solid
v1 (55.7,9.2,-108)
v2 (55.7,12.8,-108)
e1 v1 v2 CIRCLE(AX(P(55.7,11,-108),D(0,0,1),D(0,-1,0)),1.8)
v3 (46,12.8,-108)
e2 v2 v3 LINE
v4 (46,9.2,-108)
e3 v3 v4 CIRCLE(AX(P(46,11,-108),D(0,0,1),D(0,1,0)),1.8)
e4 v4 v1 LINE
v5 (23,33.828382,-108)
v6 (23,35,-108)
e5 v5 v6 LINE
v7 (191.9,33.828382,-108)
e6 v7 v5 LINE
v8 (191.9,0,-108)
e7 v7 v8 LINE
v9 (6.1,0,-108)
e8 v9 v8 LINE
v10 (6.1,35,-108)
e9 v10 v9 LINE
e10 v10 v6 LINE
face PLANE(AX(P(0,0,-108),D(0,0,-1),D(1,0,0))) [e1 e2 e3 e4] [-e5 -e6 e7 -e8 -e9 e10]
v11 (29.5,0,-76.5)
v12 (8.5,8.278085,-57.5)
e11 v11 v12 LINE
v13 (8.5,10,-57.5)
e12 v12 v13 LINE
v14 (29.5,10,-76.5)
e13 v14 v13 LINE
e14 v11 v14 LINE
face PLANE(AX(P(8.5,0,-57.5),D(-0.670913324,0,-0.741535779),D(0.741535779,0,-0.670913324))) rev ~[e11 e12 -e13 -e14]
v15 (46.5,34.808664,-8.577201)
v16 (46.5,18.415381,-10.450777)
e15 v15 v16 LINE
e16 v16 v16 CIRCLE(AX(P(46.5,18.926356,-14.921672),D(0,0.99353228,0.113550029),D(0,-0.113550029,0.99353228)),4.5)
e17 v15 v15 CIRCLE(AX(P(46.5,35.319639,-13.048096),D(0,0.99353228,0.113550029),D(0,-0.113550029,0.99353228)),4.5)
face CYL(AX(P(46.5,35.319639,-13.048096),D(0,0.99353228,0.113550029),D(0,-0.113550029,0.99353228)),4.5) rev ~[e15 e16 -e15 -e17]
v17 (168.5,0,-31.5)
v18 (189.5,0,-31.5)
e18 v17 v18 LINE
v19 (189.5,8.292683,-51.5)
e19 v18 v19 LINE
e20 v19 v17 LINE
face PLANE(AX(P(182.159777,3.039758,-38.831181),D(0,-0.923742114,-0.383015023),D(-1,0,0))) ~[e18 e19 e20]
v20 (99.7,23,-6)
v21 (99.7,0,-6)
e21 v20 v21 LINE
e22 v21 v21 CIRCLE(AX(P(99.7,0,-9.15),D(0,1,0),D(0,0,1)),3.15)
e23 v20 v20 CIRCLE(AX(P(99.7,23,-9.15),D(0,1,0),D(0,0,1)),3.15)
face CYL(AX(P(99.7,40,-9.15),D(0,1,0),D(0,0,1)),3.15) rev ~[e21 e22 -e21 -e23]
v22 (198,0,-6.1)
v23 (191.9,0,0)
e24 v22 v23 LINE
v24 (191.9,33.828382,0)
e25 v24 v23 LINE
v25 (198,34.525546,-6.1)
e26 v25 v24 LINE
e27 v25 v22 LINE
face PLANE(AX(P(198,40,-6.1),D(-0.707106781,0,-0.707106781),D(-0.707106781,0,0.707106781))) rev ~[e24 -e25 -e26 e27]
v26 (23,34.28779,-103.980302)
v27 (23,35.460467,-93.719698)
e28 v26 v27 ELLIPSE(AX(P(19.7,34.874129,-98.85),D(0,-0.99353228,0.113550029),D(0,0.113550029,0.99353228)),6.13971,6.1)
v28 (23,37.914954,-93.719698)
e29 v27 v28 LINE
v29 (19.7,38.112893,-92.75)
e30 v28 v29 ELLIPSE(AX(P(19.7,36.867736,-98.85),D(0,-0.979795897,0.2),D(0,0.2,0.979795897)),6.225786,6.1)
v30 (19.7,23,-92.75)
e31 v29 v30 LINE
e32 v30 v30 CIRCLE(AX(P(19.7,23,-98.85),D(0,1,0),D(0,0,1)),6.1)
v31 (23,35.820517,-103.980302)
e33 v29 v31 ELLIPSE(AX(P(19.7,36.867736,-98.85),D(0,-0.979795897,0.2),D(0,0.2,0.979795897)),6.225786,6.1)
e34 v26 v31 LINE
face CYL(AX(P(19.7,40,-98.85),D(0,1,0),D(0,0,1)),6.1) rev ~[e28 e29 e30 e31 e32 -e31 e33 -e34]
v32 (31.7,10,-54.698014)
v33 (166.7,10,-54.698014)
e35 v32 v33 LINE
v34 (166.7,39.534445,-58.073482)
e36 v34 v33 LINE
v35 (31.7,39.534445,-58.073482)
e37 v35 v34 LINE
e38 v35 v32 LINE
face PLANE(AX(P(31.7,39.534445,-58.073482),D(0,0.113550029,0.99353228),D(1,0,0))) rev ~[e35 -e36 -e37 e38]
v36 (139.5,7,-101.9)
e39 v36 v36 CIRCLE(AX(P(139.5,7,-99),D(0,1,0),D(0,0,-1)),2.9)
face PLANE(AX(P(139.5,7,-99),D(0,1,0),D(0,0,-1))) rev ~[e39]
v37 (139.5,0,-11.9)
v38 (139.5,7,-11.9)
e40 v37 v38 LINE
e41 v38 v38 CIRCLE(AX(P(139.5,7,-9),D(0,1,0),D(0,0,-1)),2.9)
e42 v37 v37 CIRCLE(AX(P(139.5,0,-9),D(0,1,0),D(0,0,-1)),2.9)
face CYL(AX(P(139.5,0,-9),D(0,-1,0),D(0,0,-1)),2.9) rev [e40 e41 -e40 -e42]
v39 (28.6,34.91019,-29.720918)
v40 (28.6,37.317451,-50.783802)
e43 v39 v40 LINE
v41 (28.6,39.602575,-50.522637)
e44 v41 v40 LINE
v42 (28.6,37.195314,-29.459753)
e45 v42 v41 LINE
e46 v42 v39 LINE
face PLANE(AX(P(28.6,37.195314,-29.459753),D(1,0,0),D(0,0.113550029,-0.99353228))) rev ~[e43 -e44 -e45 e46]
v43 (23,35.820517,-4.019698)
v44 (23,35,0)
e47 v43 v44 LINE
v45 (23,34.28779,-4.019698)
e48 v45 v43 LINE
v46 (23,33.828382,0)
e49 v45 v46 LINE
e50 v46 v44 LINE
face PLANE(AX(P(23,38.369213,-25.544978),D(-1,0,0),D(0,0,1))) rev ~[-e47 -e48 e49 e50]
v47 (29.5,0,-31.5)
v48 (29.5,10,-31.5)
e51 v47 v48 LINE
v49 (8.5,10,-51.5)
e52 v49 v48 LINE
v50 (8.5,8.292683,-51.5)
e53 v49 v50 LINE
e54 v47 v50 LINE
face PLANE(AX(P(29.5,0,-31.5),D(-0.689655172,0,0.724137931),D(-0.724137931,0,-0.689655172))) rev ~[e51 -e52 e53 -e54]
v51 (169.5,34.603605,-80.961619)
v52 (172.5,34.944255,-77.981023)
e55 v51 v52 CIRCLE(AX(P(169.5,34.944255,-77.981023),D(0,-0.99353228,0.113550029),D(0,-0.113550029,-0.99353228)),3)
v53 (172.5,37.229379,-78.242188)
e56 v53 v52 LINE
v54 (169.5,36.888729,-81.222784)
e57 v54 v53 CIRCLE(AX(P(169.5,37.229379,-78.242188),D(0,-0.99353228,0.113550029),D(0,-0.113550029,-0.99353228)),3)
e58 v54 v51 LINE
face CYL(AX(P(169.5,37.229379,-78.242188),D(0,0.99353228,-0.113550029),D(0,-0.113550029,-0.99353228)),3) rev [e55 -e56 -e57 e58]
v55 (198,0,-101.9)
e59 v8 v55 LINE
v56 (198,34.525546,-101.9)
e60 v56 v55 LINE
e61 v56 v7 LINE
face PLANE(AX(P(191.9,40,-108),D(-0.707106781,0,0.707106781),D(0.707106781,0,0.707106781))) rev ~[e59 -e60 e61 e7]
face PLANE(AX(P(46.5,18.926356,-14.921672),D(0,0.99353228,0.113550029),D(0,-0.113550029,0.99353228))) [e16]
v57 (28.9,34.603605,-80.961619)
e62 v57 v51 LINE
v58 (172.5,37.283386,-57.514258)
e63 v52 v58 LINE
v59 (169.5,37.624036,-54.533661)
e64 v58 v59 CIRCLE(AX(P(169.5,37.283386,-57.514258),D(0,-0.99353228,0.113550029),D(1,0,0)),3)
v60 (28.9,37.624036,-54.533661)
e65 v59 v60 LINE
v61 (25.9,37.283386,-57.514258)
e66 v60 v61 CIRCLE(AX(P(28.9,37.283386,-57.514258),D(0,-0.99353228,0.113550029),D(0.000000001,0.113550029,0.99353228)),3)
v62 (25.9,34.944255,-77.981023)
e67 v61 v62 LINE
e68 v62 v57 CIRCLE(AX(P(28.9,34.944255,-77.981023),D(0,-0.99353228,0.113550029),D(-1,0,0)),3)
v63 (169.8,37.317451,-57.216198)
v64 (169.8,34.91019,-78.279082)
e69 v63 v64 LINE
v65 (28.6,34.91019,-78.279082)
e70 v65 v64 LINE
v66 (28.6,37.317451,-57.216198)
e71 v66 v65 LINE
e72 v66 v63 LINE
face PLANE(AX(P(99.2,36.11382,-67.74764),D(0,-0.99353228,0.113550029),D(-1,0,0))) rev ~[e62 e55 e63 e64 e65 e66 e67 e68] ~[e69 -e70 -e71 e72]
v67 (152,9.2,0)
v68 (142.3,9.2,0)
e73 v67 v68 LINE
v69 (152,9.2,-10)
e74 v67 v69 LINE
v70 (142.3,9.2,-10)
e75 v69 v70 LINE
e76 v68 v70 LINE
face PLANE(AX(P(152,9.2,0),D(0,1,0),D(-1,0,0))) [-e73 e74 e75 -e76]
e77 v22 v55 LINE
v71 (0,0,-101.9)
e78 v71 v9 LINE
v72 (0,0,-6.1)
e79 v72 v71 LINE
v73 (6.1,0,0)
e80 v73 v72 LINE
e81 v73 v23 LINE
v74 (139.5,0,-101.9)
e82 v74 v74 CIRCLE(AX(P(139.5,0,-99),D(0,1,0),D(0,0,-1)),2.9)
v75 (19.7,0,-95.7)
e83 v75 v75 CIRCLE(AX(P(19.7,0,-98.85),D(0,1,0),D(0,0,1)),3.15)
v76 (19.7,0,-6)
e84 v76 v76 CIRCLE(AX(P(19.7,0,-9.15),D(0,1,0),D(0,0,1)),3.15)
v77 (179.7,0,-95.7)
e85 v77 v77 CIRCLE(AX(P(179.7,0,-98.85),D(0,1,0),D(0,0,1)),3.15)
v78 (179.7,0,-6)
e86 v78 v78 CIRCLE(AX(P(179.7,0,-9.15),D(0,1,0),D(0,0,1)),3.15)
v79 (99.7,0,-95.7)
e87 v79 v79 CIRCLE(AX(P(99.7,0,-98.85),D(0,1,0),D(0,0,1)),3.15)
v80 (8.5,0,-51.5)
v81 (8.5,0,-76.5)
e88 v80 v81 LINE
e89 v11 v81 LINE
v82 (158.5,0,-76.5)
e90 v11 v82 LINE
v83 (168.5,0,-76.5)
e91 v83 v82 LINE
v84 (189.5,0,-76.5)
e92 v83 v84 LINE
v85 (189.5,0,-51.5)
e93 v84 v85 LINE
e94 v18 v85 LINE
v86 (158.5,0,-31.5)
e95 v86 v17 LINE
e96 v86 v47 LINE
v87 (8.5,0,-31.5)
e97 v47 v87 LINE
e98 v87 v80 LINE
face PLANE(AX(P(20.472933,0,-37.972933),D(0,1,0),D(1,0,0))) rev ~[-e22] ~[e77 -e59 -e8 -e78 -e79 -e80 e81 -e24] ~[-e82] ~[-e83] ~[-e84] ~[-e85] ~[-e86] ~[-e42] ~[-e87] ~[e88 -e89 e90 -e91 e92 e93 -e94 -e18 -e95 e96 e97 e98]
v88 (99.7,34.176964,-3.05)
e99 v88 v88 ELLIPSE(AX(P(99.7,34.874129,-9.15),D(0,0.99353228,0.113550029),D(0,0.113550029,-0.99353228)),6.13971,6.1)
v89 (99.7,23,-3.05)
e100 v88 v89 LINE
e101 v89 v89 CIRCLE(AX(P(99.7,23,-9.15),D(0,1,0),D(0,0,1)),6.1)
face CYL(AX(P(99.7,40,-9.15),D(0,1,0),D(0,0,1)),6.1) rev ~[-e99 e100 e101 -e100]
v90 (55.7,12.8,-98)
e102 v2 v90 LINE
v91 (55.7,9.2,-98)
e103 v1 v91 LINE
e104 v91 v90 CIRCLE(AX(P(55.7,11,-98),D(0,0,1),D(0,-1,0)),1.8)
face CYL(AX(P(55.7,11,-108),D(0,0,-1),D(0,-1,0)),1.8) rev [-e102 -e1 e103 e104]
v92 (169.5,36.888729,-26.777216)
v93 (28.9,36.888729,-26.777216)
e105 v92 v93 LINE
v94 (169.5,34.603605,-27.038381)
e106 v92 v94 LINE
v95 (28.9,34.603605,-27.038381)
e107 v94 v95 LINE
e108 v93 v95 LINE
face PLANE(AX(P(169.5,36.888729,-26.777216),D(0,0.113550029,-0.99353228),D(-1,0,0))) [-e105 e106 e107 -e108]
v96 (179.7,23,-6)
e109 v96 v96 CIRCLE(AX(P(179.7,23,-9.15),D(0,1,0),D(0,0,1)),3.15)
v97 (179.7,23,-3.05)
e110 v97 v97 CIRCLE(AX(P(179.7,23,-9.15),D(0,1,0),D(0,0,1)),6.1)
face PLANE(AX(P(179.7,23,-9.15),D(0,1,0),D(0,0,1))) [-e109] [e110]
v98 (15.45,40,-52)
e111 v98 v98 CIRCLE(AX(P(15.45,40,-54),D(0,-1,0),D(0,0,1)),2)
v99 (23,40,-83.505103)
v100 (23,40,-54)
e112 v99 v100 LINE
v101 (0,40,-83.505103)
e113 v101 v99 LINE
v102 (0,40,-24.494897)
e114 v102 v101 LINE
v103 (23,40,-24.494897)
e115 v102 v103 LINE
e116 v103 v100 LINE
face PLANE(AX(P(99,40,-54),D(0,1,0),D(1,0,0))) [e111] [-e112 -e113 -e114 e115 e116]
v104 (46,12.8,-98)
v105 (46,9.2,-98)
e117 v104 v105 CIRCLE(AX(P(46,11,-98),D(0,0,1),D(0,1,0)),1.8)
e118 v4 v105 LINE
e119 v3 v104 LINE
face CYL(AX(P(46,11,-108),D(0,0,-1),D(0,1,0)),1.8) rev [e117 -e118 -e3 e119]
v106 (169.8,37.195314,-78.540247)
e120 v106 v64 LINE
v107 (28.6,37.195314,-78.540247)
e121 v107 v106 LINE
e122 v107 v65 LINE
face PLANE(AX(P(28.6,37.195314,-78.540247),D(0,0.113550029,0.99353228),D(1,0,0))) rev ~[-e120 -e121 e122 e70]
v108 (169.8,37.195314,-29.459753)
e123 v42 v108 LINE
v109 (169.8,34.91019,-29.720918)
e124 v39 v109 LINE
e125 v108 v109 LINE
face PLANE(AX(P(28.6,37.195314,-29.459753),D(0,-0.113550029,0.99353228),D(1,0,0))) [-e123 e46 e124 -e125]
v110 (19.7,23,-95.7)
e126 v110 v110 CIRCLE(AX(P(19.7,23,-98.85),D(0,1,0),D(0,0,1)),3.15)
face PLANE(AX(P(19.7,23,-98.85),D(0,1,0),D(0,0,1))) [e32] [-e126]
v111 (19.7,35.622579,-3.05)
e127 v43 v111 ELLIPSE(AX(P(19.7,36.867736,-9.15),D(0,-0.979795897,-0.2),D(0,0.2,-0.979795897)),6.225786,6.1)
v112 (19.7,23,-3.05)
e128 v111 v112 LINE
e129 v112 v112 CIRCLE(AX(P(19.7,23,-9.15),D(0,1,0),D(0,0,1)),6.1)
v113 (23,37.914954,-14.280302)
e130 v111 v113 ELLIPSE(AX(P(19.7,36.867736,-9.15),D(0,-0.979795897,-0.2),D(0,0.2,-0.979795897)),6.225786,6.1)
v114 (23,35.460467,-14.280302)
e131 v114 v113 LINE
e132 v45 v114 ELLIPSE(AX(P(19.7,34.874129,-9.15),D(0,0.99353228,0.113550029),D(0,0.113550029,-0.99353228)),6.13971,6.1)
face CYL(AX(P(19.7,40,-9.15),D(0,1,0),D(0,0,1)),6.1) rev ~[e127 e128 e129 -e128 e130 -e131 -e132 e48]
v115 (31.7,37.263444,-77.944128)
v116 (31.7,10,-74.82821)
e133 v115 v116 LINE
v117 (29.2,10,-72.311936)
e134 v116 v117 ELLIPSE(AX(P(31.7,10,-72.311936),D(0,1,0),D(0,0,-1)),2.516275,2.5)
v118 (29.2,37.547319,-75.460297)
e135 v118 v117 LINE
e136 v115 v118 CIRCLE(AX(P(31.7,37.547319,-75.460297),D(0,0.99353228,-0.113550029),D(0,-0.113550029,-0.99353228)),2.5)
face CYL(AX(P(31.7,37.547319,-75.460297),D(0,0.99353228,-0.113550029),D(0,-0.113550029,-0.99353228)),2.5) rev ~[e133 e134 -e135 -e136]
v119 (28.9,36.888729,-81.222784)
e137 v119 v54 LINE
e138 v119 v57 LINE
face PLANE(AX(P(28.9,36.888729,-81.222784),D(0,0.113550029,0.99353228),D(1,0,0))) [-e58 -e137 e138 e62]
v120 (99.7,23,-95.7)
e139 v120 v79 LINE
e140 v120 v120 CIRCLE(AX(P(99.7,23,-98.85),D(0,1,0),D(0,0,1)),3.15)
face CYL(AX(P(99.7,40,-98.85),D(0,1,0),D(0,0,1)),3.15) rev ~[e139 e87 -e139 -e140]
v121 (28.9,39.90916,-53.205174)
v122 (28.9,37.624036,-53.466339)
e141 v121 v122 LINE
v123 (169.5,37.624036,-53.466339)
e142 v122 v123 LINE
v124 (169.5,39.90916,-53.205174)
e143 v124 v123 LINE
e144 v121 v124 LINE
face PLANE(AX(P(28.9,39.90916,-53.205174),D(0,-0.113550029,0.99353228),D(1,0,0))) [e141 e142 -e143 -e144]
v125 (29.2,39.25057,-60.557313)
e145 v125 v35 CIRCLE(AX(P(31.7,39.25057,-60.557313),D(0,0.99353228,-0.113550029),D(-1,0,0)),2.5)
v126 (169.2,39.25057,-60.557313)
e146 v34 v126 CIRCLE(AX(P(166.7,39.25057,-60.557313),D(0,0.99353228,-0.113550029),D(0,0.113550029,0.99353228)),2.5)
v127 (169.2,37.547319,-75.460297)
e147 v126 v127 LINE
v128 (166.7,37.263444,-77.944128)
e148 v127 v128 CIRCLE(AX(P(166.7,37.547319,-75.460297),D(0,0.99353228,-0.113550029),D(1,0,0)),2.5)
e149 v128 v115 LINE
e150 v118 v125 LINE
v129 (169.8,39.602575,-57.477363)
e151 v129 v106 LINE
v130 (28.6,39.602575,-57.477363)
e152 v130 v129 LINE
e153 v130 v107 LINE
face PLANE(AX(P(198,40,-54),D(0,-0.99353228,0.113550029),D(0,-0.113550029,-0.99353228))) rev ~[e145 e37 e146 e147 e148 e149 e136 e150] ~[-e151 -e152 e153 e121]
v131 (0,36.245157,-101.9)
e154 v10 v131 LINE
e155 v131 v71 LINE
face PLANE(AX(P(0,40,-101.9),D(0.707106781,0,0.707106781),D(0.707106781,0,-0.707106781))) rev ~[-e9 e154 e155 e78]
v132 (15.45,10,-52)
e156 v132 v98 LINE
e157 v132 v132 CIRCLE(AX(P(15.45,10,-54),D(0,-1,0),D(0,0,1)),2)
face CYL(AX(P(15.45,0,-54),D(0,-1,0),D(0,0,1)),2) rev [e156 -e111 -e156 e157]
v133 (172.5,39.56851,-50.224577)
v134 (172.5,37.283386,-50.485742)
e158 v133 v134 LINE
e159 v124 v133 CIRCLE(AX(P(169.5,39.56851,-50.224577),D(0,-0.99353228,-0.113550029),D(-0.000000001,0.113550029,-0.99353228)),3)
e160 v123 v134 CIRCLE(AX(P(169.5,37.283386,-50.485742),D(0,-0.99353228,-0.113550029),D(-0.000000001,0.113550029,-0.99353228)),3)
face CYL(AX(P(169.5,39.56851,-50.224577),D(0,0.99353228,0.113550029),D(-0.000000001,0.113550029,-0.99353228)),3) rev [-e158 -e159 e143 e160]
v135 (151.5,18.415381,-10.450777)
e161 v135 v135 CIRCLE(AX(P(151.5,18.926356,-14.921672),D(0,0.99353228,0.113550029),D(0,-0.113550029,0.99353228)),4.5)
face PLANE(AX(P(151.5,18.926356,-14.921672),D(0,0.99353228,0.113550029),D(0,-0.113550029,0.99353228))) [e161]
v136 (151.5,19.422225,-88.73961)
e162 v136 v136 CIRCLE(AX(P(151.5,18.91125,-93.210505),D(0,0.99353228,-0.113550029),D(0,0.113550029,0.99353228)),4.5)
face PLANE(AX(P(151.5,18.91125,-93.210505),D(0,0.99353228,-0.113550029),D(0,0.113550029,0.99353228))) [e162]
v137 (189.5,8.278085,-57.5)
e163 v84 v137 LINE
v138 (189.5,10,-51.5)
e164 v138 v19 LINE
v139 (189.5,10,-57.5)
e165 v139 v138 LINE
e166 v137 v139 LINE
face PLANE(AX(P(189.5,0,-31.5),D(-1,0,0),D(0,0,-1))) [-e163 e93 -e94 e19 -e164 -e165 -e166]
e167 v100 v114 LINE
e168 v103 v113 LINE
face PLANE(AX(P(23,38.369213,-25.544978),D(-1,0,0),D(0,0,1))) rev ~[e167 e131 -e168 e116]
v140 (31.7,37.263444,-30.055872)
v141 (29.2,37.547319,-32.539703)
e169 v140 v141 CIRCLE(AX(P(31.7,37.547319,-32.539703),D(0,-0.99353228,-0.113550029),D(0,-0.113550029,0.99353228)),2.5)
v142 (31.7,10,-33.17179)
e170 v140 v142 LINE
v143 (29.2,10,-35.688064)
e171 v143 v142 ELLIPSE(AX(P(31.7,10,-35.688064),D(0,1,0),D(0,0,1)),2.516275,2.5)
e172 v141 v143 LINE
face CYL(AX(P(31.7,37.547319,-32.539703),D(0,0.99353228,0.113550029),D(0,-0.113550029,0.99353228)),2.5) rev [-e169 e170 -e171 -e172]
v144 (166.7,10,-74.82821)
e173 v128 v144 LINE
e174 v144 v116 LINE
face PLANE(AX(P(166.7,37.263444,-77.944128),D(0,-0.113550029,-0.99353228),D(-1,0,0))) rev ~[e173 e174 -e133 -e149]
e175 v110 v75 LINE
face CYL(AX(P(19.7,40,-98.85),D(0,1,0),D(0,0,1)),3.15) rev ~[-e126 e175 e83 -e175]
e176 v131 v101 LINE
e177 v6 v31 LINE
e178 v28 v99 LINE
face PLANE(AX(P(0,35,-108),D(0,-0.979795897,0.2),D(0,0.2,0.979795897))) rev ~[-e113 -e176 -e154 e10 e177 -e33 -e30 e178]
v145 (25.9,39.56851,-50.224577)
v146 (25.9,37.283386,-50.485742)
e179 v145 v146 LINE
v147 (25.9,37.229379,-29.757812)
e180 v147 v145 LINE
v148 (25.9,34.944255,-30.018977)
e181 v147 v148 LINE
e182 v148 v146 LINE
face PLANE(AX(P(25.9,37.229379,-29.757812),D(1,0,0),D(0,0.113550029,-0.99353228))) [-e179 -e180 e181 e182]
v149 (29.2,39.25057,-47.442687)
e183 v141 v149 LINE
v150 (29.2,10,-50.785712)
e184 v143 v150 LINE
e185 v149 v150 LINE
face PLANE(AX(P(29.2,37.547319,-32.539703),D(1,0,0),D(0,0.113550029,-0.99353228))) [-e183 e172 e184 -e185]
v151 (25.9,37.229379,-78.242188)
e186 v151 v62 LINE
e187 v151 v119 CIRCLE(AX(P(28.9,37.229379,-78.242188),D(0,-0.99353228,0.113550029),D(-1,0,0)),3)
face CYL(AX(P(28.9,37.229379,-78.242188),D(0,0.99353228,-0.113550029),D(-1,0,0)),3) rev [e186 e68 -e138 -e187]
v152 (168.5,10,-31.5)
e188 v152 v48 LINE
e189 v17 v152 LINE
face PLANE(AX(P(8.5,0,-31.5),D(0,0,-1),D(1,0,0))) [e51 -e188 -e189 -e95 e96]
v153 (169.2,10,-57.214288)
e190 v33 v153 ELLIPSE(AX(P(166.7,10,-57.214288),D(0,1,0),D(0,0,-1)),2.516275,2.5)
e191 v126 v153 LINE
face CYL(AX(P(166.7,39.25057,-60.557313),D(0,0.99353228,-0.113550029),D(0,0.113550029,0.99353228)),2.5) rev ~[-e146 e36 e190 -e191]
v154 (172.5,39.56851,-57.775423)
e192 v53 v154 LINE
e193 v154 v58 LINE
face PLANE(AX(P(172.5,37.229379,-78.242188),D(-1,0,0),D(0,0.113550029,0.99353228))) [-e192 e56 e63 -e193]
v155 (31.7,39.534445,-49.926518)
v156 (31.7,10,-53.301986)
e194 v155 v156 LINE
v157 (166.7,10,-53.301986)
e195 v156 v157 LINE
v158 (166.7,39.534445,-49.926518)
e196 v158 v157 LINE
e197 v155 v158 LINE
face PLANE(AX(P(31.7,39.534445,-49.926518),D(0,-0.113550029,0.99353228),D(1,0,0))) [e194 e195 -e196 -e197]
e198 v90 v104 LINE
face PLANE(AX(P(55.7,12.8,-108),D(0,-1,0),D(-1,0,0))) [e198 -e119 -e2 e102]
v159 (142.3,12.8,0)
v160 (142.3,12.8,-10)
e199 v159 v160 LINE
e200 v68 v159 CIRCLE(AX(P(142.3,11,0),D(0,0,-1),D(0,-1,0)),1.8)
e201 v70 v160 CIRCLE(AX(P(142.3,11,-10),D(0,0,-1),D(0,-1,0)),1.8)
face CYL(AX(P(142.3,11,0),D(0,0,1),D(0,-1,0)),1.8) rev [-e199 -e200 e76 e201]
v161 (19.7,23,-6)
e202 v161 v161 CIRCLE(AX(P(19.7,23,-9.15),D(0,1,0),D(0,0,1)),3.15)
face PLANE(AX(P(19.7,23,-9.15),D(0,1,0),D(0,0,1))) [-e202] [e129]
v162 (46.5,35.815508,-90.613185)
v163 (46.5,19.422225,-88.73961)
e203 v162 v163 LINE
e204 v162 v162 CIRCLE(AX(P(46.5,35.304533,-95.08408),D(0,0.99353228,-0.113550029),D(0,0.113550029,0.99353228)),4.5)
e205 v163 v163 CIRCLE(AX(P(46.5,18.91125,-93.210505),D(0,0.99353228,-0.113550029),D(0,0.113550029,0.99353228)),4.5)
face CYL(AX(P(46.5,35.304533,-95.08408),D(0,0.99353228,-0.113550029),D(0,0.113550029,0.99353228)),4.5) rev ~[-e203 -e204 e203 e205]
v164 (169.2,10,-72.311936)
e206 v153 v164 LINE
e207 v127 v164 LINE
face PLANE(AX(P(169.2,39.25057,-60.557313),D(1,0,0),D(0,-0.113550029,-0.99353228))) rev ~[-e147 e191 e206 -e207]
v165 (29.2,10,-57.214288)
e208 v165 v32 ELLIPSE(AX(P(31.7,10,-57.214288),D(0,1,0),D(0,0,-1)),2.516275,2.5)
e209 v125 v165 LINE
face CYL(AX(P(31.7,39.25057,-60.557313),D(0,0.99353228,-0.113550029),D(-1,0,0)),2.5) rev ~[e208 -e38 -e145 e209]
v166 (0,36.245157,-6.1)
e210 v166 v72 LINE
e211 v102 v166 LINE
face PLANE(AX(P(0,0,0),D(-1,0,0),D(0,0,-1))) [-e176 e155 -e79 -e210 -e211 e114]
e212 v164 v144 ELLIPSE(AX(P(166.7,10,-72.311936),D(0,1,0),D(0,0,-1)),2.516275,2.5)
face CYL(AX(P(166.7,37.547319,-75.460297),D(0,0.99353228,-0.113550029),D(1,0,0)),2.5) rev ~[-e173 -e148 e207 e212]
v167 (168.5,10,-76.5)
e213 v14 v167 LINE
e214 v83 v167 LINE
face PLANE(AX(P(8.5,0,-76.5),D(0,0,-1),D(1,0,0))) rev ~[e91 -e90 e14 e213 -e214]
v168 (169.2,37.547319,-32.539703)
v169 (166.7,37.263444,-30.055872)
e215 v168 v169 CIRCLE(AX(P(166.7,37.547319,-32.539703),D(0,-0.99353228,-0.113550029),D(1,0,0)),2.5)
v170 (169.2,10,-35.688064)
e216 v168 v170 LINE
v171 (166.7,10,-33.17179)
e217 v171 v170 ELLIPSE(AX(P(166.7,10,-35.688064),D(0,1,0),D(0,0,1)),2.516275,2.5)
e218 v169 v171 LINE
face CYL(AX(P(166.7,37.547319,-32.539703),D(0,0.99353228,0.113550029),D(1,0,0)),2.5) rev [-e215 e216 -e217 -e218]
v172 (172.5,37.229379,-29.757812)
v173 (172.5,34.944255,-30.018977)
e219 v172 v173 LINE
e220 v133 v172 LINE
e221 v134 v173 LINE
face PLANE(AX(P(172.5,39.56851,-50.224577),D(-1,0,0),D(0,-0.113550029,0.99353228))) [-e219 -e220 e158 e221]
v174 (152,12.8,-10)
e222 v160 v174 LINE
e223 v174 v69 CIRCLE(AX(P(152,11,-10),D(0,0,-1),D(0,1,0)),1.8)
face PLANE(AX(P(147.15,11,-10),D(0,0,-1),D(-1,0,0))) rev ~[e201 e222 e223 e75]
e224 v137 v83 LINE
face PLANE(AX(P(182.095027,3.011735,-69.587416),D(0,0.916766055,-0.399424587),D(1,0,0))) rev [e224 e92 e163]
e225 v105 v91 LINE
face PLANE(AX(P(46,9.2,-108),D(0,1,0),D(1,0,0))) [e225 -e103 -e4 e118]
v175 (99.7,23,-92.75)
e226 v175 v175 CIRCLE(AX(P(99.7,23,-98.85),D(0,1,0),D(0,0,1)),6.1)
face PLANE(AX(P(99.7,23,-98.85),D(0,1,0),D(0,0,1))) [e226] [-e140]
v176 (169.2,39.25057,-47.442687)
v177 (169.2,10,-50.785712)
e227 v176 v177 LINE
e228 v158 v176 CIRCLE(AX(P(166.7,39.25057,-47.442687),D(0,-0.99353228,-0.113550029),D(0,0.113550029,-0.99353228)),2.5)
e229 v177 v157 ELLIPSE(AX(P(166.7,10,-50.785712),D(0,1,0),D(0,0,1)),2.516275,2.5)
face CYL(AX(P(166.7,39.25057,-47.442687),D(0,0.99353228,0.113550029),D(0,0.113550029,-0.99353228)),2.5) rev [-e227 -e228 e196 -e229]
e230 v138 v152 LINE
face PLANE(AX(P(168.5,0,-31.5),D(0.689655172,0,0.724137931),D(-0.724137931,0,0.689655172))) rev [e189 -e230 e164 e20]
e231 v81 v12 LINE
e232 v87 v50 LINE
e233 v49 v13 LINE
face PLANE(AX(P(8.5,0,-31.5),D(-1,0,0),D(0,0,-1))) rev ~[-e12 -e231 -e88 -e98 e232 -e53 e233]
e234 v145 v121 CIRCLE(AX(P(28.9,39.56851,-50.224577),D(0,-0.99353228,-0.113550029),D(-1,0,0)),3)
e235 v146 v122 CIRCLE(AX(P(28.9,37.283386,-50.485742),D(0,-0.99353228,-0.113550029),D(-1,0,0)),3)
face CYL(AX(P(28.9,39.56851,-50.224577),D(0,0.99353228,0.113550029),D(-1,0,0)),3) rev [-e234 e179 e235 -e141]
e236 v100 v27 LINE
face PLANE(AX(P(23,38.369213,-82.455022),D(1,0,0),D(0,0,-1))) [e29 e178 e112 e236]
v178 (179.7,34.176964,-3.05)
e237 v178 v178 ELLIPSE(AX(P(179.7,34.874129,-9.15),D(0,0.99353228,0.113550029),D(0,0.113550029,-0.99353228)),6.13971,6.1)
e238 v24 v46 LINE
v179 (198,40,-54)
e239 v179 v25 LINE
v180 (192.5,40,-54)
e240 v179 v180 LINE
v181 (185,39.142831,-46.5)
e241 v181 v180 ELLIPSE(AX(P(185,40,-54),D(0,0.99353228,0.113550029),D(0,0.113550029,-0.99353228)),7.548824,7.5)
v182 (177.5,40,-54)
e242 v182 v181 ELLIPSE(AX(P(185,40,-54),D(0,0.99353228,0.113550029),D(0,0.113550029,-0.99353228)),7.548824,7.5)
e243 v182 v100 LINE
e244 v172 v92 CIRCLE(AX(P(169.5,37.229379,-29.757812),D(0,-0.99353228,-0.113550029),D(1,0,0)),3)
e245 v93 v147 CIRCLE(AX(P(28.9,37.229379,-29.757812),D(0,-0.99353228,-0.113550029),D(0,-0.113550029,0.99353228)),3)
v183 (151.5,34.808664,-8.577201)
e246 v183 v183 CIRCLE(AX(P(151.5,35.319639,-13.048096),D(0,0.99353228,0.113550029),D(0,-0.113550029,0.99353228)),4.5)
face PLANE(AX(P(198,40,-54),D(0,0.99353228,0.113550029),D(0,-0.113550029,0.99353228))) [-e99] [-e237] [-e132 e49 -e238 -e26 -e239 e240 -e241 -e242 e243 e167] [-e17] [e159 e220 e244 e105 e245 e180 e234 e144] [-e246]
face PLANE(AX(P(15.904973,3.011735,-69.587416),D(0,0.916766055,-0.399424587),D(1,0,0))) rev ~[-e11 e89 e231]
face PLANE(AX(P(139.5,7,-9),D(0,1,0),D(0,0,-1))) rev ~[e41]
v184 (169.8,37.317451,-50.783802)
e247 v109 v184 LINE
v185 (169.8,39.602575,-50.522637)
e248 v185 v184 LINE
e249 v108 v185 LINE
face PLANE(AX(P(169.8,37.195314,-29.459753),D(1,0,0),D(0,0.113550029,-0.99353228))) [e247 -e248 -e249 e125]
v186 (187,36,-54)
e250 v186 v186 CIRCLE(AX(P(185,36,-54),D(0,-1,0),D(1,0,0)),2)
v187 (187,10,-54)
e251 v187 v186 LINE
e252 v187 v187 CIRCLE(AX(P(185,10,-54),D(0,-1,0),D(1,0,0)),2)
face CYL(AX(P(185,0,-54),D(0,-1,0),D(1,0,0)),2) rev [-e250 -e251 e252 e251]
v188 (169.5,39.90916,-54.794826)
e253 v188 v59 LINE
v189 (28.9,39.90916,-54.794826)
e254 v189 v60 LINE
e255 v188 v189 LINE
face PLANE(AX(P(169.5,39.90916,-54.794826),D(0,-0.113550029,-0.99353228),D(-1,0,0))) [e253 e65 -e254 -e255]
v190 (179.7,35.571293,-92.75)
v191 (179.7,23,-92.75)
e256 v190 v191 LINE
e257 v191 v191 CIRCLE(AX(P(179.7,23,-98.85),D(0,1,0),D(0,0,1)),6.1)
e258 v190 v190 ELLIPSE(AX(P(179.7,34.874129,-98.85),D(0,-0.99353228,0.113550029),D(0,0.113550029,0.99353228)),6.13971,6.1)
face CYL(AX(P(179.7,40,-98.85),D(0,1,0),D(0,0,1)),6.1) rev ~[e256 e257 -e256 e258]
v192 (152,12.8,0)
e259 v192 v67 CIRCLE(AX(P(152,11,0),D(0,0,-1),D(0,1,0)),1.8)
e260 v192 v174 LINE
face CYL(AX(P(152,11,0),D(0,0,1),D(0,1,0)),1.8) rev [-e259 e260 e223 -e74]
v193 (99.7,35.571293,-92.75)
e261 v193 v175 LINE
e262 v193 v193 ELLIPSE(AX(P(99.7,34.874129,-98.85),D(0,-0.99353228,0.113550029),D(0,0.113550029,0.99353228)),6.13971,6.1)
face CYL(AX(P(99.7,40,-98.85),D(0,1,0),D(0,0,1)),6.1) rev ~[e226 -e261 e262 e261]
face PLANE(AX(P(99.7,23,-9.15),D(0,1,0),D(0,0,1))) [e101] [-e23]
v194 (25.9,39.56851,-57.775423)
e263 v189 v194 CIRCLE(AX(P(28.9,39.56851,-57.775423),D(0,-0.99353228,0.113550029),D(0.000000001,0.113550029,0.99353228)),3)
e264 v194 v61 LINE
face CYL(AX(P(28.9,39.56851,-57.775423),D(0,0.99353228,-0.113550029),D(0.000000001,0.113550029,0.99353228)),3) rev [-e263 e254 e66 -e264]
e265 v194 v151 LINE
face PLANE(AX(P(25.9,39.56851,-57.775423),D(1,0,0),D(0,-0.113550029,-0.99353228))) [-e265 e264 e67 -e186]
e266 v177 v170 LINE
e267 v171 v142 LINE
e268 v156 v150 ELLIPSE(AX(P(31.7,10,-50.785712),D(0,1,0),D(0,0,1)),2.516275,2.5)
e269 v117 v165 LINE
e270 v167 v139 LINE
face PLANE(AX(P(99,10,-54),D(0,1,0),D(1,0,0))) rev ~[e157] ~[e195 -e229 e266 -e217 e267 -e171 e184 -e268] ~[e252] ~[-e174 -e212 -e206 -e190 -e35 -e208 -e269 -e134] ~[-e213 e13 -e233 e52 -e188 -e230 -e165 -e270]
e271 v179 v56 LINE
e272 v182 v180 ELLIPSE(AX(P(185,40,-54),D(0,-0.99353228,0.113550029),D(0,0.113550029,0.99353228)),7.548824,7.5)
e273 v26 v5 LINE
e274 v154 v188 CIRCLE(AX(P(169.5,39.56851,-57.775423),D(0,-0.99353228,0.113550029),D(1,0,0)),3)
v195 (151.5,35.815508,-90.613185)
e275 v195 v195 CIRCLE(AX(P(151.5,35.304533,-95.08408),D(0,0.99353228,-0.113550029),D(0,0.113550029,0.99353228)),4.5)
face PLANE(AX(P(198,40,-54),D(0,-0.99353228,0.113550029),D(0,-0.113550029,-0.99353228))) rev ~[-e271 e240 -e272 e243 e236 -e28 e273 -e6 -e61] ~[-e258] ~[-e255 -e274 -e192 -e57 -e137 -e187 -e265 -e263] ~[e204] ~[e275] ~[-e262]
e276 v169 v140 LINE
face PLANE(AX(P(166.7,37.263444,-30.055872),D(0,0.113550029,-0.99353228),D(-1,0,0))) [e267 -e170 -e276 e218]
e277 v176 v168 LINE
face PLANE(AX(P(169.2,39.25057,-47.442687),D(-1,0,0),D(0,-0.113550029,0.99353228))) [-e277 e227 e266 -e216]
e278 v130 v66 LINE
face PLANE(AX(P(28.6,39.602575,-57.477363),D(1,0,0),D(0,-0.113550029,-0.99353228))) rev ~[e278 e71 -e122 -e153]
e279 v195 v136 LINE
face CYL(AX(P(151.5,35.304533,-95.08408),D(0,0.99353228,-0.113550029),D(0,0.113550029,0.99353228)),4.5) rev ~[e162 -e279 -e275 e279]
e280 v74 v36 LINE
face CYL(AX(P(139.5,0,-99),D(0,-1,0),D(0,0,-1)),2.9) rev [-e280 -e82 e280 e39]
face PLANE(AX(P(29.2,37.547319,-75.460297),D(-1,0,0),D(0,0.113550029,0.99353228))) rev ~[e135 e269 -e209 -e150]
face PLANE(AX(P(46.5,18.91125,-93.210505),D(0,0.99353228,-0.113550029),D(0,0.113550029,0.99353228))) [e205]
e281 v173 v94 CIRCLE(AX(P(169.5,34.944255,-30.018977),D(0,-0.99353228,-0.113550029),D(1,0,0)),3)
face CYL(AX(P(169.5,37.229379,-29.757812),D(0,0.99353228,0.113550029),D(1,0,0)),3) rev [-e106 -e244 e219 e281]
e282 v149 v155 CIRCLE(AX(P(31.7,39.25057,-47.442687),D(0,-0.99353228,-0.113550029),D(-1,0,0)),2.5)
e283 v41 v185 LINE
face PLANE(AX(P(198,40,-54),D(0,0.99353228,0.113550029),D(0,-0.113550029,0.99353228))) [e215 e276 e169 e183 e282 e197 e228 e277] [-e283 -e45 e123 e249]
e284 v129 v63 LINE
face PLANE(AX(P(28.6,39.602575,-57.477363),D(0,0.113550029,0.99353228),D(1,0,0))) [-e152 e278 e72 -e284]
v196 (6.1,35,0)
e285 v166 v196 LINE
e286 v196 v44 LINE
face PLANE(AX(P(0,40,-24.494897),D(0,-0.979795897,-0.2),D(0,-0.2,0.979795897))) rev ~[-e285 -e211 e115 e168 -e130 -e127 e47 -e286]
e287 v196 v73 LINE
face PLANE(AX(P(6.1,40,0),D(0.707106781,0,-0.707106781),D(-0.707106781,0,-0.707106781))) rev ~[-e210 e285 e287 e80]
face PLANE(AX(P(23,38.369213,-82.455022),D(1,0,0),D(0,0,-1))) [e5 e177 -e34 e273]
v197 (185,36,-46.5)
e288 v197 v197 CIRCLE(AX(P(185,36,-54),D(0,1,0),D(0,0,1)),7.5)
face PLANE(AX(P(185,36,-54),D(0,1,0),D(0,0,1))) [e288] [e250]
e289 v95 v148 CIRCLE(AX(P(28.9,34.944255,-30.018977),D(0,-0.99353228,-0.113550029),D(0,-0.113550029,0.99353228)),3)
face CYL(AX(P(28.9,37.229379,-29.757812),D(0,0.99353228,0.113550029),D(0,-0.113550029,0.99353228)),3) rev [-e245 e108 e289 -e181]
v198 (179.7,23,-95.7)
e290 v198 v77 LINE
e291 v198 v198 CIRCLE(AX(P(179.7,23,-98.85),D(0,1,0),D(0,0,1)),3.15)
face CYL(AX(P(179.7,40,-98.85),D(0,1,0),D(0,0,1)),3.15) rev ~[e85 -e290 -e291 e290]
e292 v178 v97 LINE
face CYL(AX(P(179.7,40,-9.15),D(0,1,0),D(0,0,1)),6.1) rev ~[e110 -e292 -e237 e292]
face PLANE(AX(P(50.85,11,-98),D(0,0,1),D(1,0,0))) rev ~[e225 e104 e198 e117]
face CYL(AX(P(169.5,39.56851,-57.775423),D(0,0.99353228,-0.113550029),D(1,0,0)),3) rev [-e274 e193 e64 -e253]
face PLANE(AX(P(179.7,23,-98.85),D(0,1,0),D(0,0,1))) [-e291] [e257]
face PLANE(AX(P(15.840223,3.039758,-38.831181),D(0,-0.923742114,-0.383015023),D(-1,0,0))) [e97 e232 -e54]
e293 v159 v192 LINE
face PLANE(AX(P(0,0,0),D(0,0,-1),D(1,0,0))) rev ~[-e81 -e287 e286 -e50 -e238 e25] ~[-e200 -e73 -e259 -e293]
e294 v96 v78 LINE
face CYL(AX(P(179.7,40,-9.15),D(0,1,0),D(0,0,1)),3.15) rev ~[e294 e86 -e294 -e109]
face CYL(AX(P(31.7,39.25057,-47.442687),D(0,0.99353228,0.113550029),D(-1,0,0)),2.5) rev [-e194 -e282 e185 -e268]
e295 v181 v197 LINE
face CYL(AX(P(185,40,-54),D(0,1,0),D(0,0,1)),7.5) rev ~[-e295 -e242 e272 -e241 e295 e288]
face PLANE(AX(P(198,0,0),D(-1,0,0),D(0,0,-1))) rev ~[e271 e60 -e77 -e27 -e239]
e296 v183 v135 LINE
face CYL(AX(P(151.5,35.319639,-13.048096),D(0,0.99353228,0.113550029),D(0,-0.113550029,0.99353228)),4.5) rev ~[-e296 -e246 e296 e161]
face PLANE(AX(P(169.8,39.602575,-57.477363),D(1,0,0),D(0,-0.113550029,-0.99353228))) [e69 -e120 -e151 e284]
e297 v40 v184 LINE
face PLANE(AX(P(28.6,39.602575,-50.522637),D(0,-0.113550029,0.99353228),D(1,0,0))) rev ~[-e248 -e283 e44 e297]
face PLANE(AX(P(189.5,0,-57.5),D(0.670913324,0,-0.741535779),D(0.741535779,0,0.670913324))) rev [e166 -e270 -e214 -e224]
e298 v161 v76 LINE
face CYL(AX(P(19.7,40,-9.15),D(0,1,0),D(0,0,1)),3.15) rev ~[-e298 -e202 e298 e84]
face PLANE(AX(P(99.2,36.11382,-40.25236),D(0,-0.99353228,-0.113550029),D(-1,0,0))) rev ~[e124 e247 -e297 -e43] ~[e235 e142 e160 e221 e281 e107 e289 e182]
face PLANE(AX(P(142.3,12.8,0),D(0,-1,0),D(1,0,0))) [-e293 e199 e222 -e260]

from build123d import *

# Parameters (mm, degrees)
SKETCH1_W            = 198
SKETCH1_H            = 108
BOSS_EXTRUDE1_DEPTH  = 40
SKETCH4_W            = 181
SKETCH4_H            = 45
CUT_EXTRUDE2_DEPTH   = 10
CUT_EXTRUDE3_DEPTH   = 175
BOSS_EXTRUDE11_DEPTH = 10
CUT_EXTRUDE12_DEPTH  = 175
CUT_EXTRUDE28_DEPTH  = 14.5
CUT_EXTRUDE29_DEPTH  = 14.5
CUT_EXTRUDE40_REACH  = 231.059
CUT_EXTRUDE5_DEPTH   = 23
SKETCH12_R           = 3.15
CUT_EXTRUDE9_DEPTH   = 230.058944379
SKETCH13_R           = 4.5
CUT_EXTRUDE10_DEPTH  = 16.5
SKETCH14_R           = 4.5
CUT_EXTRUDE11_DEPTH  = 16.5
SKETCH41_R           = 2.9
CUT_EXTRUDE21_DEPTH  = 7
CUT_EXTRUDE22_DEPTH  = 10
CUT_EXTRUDE23_DEPTH  = 10
SKETCH6_W            = 141.2
SKETCH6_H            = 21.2
CUT_EXTRUDE32_DEPTH  = 2.3
SKETCH23_W           = 141.2
SKETCH23_H           = 21.2
CUT_EXTRUDE33_DEPTH  = 2.3
CUT_EXTRUDE34_DEPTH  = 55.4
CUT_EXTRUDE35_DEPTH  = 55.4
CUT_EXTRUDE36_DEPTH  = 55.4
SKETCH90_R           = 6.1
CUT_EXTRUDE38_DEPTH  = 17
SKETCH96_R           = 2
CUT_EXTRUDE39_DEPTH  = 230.058944379
SKETCH98_R           = 7.5
CUT_EXTRUDE41_DEPTH  = 4


with BuildPart() as part:
    # Sketch1 → Boss-Extrude1 (new body)
    with BuildSketch(Plane(origin=(0, 0, 0), x_dir=(1, 0, 0), z_dir=(0, 1, 0))):
        with Locations((99, 54)):
            Rectangle(SKETCH1_W, SKETCH1_H)
    extrude(amount=BOSS_EXTRUDE1_DEPTH)

    # Sketch4 → Cut-Extrude2 (cut)
    with BuildSketch(Plane(origin=(0, 0, 0), x_dir=(1, 0, 0), z_dir=(0, 1, 0))):
        with Locations((99, 54)):
            Rectangle(SKETCH4_W, SKETCH4_H)
    extrude(amount=CUT_EXTRUDE2_DEPTH, mode=Mode.SUBTRACT)

    # Sketch5 → Cut-Extrude3 (cut)
    with BuildSketch(Plane(origin=(198, 0, 0), x_dir=(0, 0, -1), z_dir=(1, 0, 0))):
        Polygon((54, 40), (108, 33.828382143), (108, 40), align=None)
    extrude(amount=-CUT_EXTRUDE3_DEPTH, mode=Mode.SUBTRACT)

    # Sketch53 → Boss-Extrude11 (add)
    with BuildSketch(Plane(origin=(0, 10, 0), x_dir=(-1, 0, 0), z_dir=(0, -1, 0))):
        Polygon((-8.5, 51.5), (-8.5, 31.5), (-39.5, 31.5), align=None)
        Polygon((-8.5, 56.5), (-8.5, 76.5), (-39.5, 76.5), align=None)
        Polygon((-158.5, 76.5), (-189.5, 56.5), (-189.5, 76.5), align=None)
        Polygon((-158.5, 31.5), (-189.5, 51.5), (-189.5, 31.5), align=None)
    extrude(amount=BOSS_EXTRUDE11_DEPTH)

    # Sketch18 → Cut-Extrude12 (cut)
    with BuildSketch(Plane(origin=(198, 0, 0), x_dir=(0, 0, -1), z_dir=(1, 0, 0))):
        Polygon((0, 33.828382143), (0, 40), (54, 40), align=None)
    extrude(amount=-CUT_EXTRUDE12_DEPTH, mode=Mode.SUBTRACT)

    # Izq → Cut-Extrude28 (cut)
    with BuildSketch(Plane(origin=(0, 28.012686094, -12.204810084), x_dir=(1, 0, 0), z_dir=(0, 0.9167660546215652, -0.39942458749256926))):
        Polygon((8.5, 48.862182113), (29.5, 70.132603179), (8.5, 70.132603179), align=None)
    cut_extrude28 = extrude(amount=-CUT_EXTRUDE28_DEPTH, mode=Mode.SUBTRACT)

    # Der → Cut-Extrude29 (cut)
    with BuildSketch(Plane(origin=(0, -11.144923858, -4.62106599), x_dir=(1, 0, 0), z_dir=(0, 0.9237421135716327, 0.38301502270043264))):
        Polygon((8.5, 51.290217599), (29.5, 29.097876578), (8.5, 29.097876578), align=None)
    cut_extrude29 = extrude(amount=-CUT_EXTRUDE29_DEPTH, mode=Mode.SUBTRACT)

    # Cut-Extrude40: up to this face of the body (flat: up to its plane)
    cut_extrude40_end = Plane(part.part.faces().sort_by_distance((99, 10, -54))[0])
    # Sketch97 → Cut-Extrude40 (cut, up to the picked face)
    with BuildSketch(Plane(origin=(0, 0, 0), x_dir=(1, 0, 0), z_dir=(0, 1, 0)), mode=Mode.PRIVATE) as cut_extrude40_sk1:
        Polygon((8.5, 57.5), (29.5, 76.5), (158.5, 76.5), (189.5, 56.5), (189.5, 51.5), (158.5, 31.5), (29.5, 31.5), (8.5, 51.5), align=None)
    cut_extrude40_tool1 = split(extrude(cut_extrude40_sk1.sketch, amount=CUT_EXTRUDE40_REACH, mode=Mode.PRIVATE), bisect_by=cut_extrude40_end, keep=Keep.BOTH, mode=Mode.PRIVATE)
    cut_extrude40 = cut_extrude40_tool1.solids().sort_by(Axis((96.82024, 0, -54.014019), (0, 1, 0)))[0]
    add(cut_extrude40, mode=Mode.SUBTRACT)

    # Mirror2: Cut-Extrude28, Cut-Extrude29, Cut-Extrude40 across plane
    add(cut_extrude28.mirror(Plane(origin=(99, 0, 0), x_dir=(0, 0, 1), z_dir=(1, 0, 0))), mode=Mode.SUBTRACT)
    add(cut_extrude29.mirror(Plane(origin=(99, 0, 0), x_dir=(0, 0, 1), z_dir=(1, 0, 0))), mode=Mode.SUBTRACT)
    add(cut_extrude40.mirror(Plane(origin=(99, 0, 0), x_dir=(0, 0, 1), z_dir=(1, 0, 0))), mode=Mode.SUBTRACT)

    # Sketch7 → Cut-Extrude5 (cut)
    with BuildSketch(Plane(origin=(0, 0, 0), x_dir=(0, 0, -1), z_dir=(1, 0, 0))):
        Polygon((108, 40), (108, 35), (83.505102572, 40), align=None)
        Polygon((0, 35), (0, 40), (24.494897428, 40), align=None)
    extrude(amount=CUT_EXTRUDE5_DEPTH, mode=Mode.SUBTRACT)

    # Sketch12 → Cut-Extrude9 (cut, through all)
    with BuildSketch(Plane(origin=(0, 40, 0), x_dir=(1, 0, 0), z_dir=(0, 1, 0))):
        with Locations(Location((19.7, 98.85, 0), (0, 0, 270))):
            Circle(SKETCH12_R)
        with Locations(Location((99.7, 9.15, 0), (0, 0, 270))):
            Circle(SKETCH12_R)
        with Locations(Location((179.7, 9.15, 0), (0, 0, 270))):
            Circle(SKETCH12_R)
        with Locations(Location((19.7, 9.15, 0), (0, 0, 270))):
            Circle(SKETCH12_R)
        with Locations(Location((99.7, 98.85, 0), (0, 0, 270))):
            Circle(SKETCH12_R)
        with Locations(Location((179.7, 98.85, 0), (0, 0, 270))):
            Circle(SKETCH12_R)
    extrude(amount=-CUT_EXTRUDE9_DEPTH, mode=Mode.SUBTRACT)

    # Sketch13 → Cut-Extrude10 (cut)
    with BuildSketch(Plane(origin=(0, 45.576299066, -5.208879651), x_dir=(1, 0, 0), z_dir=(0, 0.9935322797694506, -0.11355002886885623))):
        with Locations(Location((46.5, 90.460272446, 0), (0, 0, 270))):
            Circle(SKETCH13_R)
        with Locations(Location((151.5, 90.460272446, 0), (0, 0, 270))):
            Circle(SKETCH13_R)
    extrude(amount=-CUT_EXTRUDE10_DEPTH, mode=Mode.SUBTRACT)

    # Sketch14 → Cut-Extrude11 (cut)
    with BuildSketch(Plane(origin=(0, 33.058773264, 6.733871157), x_dir=(1, 0, 0), z_dir=(0, 0.9935322797694507, 0.11355002886885664))):
        with Locations(Location((46.5, 19.910744715, 0), (0, 0, 270))):
            Circle(SKETCH14_R)
        with Locations(Location((151.5, 19.910744715, 0), (0, 0, 270))):
            Circle(SKETCH14_R)
    extrude(amount=-CUT_EXTRUDE11_DEPTH, mode=Mode.SUBTRACT)

    # Sketch41 → Cut-Extrude21 (cut)
    with BuildSketch(Plane(origin=(0, 0, 0), x_dir=(1, 0, 0), z_dir=(0, 1, 0))):
        with Locations(Location((139.5, 9, 0), (0, 0, 90))):
            Circle(SKETCH41_R)
        with Locations(Location((139.5, 99, 0), (0, 0, 90))):
            Circle(SKETCH41_R)
    extrude(amount=CUT_EXTRUDE21_DEPTH, mode=Mode.SUBTRACT)

    # Sketch42 → Cut-Extrude22 (cut)
    with BuildSketch(Plane.XY):
        with BuildLine():
            Line((142.3, 12.8), (152, 12.8))
            ThreePointArc((152, 12.8), (153.8, 11), (152, 9.2))
            Line((152, 9.2), (142.3, 9.2))
            ThreePointArc((142.3, 9.2), (140.5, 11), (142.3, 12.8))
        make_face()
    extrude(amount=-CUT_EXTRUDE22_DEPTH, mode=Mode.SUBTRACT)

    # Sketch43 → Cut-Extrude23 (cut)
    with BuildSketch(Plane(origin=(0, 0, -108), x_dir=(-1, 0, 0), z_dir=(0, 0, -1))):
        with BuildLine():
            Line((-55.7, 12.8), (-46, 12.8))
            ThreePointArc((-46, 12.8), (-44.2, 11), (-46, 9.2))
            Line((-46, 9.2), (-55.7, 9.2))
            ThreePointArc((-55.7, 9.2), (-57.5, 11), (-55.7, 12.8))
        make_face()
    extrude(amount=-CUT_EXTRUDE23_DEPTH, mode=Mode.SUBTRACT)

    # Sketch6 → Cut-Extrude32 (cut)
    with BuildSketch(Plane(origin=(0, 45.576299066, -5.208879651), x_dir=(1, 0, 0), z_dir=(0, 0.9935322797694506, -0.11355002886885623))):
        with BuildLine():
            Line((28.9, 76.508741953), (169.5, 76.508741953))
            ThreePointArc((169.5, 76.508741953), (171.621320344, 75.630062296), (172.5, 73.508741953))
            Line((172.5, 73.508741953), (172.5, 52.908741953))
            ThreePointArc((172.5, 52.908741953), (171.621320344, 50.787421609), (169.5, 49.908741953))
            Line((169.5, 49.908741953), (28.9, 49.908741953))
            ThreePointArc((28.9, 49.908741953), (26.778679656, 50.787421609), (25.9, 52.908741953))
            Line((25.9, 52.908741953), (25.9, 73.508741953))
            ThreePointArc((25.9, 73.508741953), (26.778679656, 75.630062296), (28.9, 76.508741953))
        make_face()
        with Locations((99.2, 63.208741953)):
            Rectangle(SKETCH6_W, SKETCH6_H, mode=Mode.SUBTRACT)
    extrude(amount=-CUT_EXTRUDE32_DEPTH, mode=Mode.SUBTRACT)

    # Sketch23 → Cut-Extrude33 (cut)
    with BuildSketch(Plane(origin=(0, 33.392212209, 3.816369873), x_dir=(1, 0, 0), z_dir=(0, 0.9935322797694506, 0.11355002886885662))):
        with BuildLine():
            Line((28.9, 57.392744262), (169.5, 57.392744262))
            ThreePointArc((169.5, 57.392744262), (171.621320344, 56.514064606), (172.5, 54.392744262))
            Line((172.5, 54.392744262), (172.5, 33.792744262))
            ThreePointArc((172.5, 33.792744262), (171.621320344, 31.671423919), (169.5, 30.792744262))
            Line((169.5, 30.792744262), (28.9, 30.792744262))
            ThreePointArc((28.9, 30.792744262), (26.778679656, 31.671423919), (25.9, 33.792744262))
            Line((25.9, 33.792744262), (25.9, 54.392744262))
            ThreePointArc((25.9, 54.392744262), (26.778679656, 56.514064606), (28.9, 57.392744262))
        make_face()
        with Locations((99.2, 44.092744262)):
            Rectangle(SKETCH23_W, SKETCH23_H, mode=Mode.SUBTRACT)
    extrude(amount=-CUT_EXTRUDE33_DEPTH, mode=Mode.SUBTRACT)

    # Sketch83 → Cut-Extrude34 (cut)
    with BuildSketch(Plane(origin=(0, 33.392212209, 3.816369873), x_dir=(1, 0, 0), z_dir=(0, 0.9935322797694506, 0.11355002886885662))):
        with BuildLine():
            Line((31.7, 54.092744262), (166.7, 54.092744262))
            ThreePointArc((166.7, 54.092744262), (168.467766953, 53.360511215), (169.2, 51.592744262))
            Line((169.2, 51.592744262), (169.2, 36.592744262))
            ThreePointArc((169.2, 36.592744262), (168.467766953, 34.824977309), (166.7, 34.092744262))
            Line((166.7, 34.092744262), (31.7, 34.092744262))
            ThreePointArc((31.7, 34.092744262), (29.932233047, 34.824977309), (29.2, 36.592744262))
            Line((29.2, 36.592744262), (29.2, 51.592744262))
            ThreePointArc((29.2, 51.592744262), (29.932233047, 53.360511215), (31.7, 54.092744262))
        make_face()
    extrude(amount=-CUT_EXTRUDE34_DEPTH, mode=Mode.SUBTRACT)

    # Sketch84 → Cut-Extrude35 (cut)
    with BuildSketch(Plane(origin=(0, 45.576299066, -5.208879651), x_dir=(1, 0, 0), z_dir=(0, 0.9935322797694506, -0.11355002886885623))):
        with BuildLine():
            Line((31.7, 53.208741953), (166.7, 53.208741953))
            ThreePointArc((166.7, 53.208741953), (168.467766953, 53.940975), (169.2, 55.708741953))
            Line((169.2, 55.708741953), (169.2, 70.708741953))
            ThreePointArc((169.2, 70.708741953), (168.467766953, 72.476508906), (166.7, 73.208741953))
            Line((166.7, 73.208741953), (31.7, 73.208741953))
            ThreePointArc((31.7, 73.208741953), (29.932233047, 72.476508906), (29.2, 70.708741953))
            Line((29.2, 70.708741953), (29.2, 55.708741953))
            ThreePointArc((29.2, 55.708741953), (29.932233047, 53.940975), (31.7, 53.208741953))
        make_face()
    extrude(amount=-CUT_EXTRUDE35_DEPTH, mode=Mode.SUBTRACT)

    # Sketch85 → Cut-Extrude36 (cut)
    with BuildSketch(Plane(origin=(0, 40, 0), x_dir=(1, 0, 0), z_dir=(0, 1, 0))):
        Polygon((0, 101.9), (6.1, 108), (0, 108), align=None)
        Polygon((0, 0), (6.1, 0), (0, 6.1), align=None)
        Polygon((198, 6.1), (191.9, 0), (198, 0), align=None)
        Polygon((198, 108), (191.9, 108), (198, 101.9), align=None)
    extrude(amount=-CUT_EXTRUDE36_DEPTH, mode=Mode.SUBTRACT)

    # Sketch90 → Cut-Extrude38 (cut)
    with BuildSketch(Plane(origin=(0, 40, 0), x_dir=(1, 0, 0), z_dir=(0, 1, 0))):
        with Locations(Location((19.7, 9.15, 0), (0, 0, 270))):
            Circle(SKETCH90_R)
        with Locations(Location((99.7, 9.15, 0), (0, 0, 270))):
            Circle(SKETCH90_R)
        with Locations(Location((179.7, 9.15, 0), (0, 0, 270))):
            Circle(SKETCH90_R)
        with Locations(Location((99.7, 98.85, 0), (0, 0, 270))):
            Circle(SKETCH90_R)
        with Locations(Location((179.7, 98.85, 0), (0, 0, 270))):
            Circle(SKETCH90_R)
        with Locations(Location((19.7, 98.85, 0), (0, 0, 270))):
            Circle(SKETCH90_R)
    extrude(amount=-CUT_EXTRUDE38_DEPTH, mode=Mode.SUBTRACT)

    # Sketch96 → Cut-Extrude39 (cut, through all)
    with BuildSketch(Plane(origin=(0, 0, 0), x_dir=(1, 0, 0), z_dir=(0, 1, 0))):
        with Locations(Location((15.45, 54, 0), (0, 0, 270))):
            Circle(SKETCH96_R)
        with Locations((185, 54)):
            Circle(SKETCH96_R)
    extrude(amount=CUT_EXTRUDE39_DEPTH, mode=Mode.SUBTRACT)

    # Sketch98 → Cut-Extrude41 (cut)
    with BuildSketch(Plane(origin=(0, 40, 0), x_dir=(1, 0, 0), z_dir=(0, 1, 0))):
        with Locations(Location((185, 54, 0), (0, 0, 270))):
            Circle(SKETCH98_R)
    extrude(amount=-CUT_EXTRUDE41_DEPTH, mode=Mode.SUBTRACT)


solid = part.part
